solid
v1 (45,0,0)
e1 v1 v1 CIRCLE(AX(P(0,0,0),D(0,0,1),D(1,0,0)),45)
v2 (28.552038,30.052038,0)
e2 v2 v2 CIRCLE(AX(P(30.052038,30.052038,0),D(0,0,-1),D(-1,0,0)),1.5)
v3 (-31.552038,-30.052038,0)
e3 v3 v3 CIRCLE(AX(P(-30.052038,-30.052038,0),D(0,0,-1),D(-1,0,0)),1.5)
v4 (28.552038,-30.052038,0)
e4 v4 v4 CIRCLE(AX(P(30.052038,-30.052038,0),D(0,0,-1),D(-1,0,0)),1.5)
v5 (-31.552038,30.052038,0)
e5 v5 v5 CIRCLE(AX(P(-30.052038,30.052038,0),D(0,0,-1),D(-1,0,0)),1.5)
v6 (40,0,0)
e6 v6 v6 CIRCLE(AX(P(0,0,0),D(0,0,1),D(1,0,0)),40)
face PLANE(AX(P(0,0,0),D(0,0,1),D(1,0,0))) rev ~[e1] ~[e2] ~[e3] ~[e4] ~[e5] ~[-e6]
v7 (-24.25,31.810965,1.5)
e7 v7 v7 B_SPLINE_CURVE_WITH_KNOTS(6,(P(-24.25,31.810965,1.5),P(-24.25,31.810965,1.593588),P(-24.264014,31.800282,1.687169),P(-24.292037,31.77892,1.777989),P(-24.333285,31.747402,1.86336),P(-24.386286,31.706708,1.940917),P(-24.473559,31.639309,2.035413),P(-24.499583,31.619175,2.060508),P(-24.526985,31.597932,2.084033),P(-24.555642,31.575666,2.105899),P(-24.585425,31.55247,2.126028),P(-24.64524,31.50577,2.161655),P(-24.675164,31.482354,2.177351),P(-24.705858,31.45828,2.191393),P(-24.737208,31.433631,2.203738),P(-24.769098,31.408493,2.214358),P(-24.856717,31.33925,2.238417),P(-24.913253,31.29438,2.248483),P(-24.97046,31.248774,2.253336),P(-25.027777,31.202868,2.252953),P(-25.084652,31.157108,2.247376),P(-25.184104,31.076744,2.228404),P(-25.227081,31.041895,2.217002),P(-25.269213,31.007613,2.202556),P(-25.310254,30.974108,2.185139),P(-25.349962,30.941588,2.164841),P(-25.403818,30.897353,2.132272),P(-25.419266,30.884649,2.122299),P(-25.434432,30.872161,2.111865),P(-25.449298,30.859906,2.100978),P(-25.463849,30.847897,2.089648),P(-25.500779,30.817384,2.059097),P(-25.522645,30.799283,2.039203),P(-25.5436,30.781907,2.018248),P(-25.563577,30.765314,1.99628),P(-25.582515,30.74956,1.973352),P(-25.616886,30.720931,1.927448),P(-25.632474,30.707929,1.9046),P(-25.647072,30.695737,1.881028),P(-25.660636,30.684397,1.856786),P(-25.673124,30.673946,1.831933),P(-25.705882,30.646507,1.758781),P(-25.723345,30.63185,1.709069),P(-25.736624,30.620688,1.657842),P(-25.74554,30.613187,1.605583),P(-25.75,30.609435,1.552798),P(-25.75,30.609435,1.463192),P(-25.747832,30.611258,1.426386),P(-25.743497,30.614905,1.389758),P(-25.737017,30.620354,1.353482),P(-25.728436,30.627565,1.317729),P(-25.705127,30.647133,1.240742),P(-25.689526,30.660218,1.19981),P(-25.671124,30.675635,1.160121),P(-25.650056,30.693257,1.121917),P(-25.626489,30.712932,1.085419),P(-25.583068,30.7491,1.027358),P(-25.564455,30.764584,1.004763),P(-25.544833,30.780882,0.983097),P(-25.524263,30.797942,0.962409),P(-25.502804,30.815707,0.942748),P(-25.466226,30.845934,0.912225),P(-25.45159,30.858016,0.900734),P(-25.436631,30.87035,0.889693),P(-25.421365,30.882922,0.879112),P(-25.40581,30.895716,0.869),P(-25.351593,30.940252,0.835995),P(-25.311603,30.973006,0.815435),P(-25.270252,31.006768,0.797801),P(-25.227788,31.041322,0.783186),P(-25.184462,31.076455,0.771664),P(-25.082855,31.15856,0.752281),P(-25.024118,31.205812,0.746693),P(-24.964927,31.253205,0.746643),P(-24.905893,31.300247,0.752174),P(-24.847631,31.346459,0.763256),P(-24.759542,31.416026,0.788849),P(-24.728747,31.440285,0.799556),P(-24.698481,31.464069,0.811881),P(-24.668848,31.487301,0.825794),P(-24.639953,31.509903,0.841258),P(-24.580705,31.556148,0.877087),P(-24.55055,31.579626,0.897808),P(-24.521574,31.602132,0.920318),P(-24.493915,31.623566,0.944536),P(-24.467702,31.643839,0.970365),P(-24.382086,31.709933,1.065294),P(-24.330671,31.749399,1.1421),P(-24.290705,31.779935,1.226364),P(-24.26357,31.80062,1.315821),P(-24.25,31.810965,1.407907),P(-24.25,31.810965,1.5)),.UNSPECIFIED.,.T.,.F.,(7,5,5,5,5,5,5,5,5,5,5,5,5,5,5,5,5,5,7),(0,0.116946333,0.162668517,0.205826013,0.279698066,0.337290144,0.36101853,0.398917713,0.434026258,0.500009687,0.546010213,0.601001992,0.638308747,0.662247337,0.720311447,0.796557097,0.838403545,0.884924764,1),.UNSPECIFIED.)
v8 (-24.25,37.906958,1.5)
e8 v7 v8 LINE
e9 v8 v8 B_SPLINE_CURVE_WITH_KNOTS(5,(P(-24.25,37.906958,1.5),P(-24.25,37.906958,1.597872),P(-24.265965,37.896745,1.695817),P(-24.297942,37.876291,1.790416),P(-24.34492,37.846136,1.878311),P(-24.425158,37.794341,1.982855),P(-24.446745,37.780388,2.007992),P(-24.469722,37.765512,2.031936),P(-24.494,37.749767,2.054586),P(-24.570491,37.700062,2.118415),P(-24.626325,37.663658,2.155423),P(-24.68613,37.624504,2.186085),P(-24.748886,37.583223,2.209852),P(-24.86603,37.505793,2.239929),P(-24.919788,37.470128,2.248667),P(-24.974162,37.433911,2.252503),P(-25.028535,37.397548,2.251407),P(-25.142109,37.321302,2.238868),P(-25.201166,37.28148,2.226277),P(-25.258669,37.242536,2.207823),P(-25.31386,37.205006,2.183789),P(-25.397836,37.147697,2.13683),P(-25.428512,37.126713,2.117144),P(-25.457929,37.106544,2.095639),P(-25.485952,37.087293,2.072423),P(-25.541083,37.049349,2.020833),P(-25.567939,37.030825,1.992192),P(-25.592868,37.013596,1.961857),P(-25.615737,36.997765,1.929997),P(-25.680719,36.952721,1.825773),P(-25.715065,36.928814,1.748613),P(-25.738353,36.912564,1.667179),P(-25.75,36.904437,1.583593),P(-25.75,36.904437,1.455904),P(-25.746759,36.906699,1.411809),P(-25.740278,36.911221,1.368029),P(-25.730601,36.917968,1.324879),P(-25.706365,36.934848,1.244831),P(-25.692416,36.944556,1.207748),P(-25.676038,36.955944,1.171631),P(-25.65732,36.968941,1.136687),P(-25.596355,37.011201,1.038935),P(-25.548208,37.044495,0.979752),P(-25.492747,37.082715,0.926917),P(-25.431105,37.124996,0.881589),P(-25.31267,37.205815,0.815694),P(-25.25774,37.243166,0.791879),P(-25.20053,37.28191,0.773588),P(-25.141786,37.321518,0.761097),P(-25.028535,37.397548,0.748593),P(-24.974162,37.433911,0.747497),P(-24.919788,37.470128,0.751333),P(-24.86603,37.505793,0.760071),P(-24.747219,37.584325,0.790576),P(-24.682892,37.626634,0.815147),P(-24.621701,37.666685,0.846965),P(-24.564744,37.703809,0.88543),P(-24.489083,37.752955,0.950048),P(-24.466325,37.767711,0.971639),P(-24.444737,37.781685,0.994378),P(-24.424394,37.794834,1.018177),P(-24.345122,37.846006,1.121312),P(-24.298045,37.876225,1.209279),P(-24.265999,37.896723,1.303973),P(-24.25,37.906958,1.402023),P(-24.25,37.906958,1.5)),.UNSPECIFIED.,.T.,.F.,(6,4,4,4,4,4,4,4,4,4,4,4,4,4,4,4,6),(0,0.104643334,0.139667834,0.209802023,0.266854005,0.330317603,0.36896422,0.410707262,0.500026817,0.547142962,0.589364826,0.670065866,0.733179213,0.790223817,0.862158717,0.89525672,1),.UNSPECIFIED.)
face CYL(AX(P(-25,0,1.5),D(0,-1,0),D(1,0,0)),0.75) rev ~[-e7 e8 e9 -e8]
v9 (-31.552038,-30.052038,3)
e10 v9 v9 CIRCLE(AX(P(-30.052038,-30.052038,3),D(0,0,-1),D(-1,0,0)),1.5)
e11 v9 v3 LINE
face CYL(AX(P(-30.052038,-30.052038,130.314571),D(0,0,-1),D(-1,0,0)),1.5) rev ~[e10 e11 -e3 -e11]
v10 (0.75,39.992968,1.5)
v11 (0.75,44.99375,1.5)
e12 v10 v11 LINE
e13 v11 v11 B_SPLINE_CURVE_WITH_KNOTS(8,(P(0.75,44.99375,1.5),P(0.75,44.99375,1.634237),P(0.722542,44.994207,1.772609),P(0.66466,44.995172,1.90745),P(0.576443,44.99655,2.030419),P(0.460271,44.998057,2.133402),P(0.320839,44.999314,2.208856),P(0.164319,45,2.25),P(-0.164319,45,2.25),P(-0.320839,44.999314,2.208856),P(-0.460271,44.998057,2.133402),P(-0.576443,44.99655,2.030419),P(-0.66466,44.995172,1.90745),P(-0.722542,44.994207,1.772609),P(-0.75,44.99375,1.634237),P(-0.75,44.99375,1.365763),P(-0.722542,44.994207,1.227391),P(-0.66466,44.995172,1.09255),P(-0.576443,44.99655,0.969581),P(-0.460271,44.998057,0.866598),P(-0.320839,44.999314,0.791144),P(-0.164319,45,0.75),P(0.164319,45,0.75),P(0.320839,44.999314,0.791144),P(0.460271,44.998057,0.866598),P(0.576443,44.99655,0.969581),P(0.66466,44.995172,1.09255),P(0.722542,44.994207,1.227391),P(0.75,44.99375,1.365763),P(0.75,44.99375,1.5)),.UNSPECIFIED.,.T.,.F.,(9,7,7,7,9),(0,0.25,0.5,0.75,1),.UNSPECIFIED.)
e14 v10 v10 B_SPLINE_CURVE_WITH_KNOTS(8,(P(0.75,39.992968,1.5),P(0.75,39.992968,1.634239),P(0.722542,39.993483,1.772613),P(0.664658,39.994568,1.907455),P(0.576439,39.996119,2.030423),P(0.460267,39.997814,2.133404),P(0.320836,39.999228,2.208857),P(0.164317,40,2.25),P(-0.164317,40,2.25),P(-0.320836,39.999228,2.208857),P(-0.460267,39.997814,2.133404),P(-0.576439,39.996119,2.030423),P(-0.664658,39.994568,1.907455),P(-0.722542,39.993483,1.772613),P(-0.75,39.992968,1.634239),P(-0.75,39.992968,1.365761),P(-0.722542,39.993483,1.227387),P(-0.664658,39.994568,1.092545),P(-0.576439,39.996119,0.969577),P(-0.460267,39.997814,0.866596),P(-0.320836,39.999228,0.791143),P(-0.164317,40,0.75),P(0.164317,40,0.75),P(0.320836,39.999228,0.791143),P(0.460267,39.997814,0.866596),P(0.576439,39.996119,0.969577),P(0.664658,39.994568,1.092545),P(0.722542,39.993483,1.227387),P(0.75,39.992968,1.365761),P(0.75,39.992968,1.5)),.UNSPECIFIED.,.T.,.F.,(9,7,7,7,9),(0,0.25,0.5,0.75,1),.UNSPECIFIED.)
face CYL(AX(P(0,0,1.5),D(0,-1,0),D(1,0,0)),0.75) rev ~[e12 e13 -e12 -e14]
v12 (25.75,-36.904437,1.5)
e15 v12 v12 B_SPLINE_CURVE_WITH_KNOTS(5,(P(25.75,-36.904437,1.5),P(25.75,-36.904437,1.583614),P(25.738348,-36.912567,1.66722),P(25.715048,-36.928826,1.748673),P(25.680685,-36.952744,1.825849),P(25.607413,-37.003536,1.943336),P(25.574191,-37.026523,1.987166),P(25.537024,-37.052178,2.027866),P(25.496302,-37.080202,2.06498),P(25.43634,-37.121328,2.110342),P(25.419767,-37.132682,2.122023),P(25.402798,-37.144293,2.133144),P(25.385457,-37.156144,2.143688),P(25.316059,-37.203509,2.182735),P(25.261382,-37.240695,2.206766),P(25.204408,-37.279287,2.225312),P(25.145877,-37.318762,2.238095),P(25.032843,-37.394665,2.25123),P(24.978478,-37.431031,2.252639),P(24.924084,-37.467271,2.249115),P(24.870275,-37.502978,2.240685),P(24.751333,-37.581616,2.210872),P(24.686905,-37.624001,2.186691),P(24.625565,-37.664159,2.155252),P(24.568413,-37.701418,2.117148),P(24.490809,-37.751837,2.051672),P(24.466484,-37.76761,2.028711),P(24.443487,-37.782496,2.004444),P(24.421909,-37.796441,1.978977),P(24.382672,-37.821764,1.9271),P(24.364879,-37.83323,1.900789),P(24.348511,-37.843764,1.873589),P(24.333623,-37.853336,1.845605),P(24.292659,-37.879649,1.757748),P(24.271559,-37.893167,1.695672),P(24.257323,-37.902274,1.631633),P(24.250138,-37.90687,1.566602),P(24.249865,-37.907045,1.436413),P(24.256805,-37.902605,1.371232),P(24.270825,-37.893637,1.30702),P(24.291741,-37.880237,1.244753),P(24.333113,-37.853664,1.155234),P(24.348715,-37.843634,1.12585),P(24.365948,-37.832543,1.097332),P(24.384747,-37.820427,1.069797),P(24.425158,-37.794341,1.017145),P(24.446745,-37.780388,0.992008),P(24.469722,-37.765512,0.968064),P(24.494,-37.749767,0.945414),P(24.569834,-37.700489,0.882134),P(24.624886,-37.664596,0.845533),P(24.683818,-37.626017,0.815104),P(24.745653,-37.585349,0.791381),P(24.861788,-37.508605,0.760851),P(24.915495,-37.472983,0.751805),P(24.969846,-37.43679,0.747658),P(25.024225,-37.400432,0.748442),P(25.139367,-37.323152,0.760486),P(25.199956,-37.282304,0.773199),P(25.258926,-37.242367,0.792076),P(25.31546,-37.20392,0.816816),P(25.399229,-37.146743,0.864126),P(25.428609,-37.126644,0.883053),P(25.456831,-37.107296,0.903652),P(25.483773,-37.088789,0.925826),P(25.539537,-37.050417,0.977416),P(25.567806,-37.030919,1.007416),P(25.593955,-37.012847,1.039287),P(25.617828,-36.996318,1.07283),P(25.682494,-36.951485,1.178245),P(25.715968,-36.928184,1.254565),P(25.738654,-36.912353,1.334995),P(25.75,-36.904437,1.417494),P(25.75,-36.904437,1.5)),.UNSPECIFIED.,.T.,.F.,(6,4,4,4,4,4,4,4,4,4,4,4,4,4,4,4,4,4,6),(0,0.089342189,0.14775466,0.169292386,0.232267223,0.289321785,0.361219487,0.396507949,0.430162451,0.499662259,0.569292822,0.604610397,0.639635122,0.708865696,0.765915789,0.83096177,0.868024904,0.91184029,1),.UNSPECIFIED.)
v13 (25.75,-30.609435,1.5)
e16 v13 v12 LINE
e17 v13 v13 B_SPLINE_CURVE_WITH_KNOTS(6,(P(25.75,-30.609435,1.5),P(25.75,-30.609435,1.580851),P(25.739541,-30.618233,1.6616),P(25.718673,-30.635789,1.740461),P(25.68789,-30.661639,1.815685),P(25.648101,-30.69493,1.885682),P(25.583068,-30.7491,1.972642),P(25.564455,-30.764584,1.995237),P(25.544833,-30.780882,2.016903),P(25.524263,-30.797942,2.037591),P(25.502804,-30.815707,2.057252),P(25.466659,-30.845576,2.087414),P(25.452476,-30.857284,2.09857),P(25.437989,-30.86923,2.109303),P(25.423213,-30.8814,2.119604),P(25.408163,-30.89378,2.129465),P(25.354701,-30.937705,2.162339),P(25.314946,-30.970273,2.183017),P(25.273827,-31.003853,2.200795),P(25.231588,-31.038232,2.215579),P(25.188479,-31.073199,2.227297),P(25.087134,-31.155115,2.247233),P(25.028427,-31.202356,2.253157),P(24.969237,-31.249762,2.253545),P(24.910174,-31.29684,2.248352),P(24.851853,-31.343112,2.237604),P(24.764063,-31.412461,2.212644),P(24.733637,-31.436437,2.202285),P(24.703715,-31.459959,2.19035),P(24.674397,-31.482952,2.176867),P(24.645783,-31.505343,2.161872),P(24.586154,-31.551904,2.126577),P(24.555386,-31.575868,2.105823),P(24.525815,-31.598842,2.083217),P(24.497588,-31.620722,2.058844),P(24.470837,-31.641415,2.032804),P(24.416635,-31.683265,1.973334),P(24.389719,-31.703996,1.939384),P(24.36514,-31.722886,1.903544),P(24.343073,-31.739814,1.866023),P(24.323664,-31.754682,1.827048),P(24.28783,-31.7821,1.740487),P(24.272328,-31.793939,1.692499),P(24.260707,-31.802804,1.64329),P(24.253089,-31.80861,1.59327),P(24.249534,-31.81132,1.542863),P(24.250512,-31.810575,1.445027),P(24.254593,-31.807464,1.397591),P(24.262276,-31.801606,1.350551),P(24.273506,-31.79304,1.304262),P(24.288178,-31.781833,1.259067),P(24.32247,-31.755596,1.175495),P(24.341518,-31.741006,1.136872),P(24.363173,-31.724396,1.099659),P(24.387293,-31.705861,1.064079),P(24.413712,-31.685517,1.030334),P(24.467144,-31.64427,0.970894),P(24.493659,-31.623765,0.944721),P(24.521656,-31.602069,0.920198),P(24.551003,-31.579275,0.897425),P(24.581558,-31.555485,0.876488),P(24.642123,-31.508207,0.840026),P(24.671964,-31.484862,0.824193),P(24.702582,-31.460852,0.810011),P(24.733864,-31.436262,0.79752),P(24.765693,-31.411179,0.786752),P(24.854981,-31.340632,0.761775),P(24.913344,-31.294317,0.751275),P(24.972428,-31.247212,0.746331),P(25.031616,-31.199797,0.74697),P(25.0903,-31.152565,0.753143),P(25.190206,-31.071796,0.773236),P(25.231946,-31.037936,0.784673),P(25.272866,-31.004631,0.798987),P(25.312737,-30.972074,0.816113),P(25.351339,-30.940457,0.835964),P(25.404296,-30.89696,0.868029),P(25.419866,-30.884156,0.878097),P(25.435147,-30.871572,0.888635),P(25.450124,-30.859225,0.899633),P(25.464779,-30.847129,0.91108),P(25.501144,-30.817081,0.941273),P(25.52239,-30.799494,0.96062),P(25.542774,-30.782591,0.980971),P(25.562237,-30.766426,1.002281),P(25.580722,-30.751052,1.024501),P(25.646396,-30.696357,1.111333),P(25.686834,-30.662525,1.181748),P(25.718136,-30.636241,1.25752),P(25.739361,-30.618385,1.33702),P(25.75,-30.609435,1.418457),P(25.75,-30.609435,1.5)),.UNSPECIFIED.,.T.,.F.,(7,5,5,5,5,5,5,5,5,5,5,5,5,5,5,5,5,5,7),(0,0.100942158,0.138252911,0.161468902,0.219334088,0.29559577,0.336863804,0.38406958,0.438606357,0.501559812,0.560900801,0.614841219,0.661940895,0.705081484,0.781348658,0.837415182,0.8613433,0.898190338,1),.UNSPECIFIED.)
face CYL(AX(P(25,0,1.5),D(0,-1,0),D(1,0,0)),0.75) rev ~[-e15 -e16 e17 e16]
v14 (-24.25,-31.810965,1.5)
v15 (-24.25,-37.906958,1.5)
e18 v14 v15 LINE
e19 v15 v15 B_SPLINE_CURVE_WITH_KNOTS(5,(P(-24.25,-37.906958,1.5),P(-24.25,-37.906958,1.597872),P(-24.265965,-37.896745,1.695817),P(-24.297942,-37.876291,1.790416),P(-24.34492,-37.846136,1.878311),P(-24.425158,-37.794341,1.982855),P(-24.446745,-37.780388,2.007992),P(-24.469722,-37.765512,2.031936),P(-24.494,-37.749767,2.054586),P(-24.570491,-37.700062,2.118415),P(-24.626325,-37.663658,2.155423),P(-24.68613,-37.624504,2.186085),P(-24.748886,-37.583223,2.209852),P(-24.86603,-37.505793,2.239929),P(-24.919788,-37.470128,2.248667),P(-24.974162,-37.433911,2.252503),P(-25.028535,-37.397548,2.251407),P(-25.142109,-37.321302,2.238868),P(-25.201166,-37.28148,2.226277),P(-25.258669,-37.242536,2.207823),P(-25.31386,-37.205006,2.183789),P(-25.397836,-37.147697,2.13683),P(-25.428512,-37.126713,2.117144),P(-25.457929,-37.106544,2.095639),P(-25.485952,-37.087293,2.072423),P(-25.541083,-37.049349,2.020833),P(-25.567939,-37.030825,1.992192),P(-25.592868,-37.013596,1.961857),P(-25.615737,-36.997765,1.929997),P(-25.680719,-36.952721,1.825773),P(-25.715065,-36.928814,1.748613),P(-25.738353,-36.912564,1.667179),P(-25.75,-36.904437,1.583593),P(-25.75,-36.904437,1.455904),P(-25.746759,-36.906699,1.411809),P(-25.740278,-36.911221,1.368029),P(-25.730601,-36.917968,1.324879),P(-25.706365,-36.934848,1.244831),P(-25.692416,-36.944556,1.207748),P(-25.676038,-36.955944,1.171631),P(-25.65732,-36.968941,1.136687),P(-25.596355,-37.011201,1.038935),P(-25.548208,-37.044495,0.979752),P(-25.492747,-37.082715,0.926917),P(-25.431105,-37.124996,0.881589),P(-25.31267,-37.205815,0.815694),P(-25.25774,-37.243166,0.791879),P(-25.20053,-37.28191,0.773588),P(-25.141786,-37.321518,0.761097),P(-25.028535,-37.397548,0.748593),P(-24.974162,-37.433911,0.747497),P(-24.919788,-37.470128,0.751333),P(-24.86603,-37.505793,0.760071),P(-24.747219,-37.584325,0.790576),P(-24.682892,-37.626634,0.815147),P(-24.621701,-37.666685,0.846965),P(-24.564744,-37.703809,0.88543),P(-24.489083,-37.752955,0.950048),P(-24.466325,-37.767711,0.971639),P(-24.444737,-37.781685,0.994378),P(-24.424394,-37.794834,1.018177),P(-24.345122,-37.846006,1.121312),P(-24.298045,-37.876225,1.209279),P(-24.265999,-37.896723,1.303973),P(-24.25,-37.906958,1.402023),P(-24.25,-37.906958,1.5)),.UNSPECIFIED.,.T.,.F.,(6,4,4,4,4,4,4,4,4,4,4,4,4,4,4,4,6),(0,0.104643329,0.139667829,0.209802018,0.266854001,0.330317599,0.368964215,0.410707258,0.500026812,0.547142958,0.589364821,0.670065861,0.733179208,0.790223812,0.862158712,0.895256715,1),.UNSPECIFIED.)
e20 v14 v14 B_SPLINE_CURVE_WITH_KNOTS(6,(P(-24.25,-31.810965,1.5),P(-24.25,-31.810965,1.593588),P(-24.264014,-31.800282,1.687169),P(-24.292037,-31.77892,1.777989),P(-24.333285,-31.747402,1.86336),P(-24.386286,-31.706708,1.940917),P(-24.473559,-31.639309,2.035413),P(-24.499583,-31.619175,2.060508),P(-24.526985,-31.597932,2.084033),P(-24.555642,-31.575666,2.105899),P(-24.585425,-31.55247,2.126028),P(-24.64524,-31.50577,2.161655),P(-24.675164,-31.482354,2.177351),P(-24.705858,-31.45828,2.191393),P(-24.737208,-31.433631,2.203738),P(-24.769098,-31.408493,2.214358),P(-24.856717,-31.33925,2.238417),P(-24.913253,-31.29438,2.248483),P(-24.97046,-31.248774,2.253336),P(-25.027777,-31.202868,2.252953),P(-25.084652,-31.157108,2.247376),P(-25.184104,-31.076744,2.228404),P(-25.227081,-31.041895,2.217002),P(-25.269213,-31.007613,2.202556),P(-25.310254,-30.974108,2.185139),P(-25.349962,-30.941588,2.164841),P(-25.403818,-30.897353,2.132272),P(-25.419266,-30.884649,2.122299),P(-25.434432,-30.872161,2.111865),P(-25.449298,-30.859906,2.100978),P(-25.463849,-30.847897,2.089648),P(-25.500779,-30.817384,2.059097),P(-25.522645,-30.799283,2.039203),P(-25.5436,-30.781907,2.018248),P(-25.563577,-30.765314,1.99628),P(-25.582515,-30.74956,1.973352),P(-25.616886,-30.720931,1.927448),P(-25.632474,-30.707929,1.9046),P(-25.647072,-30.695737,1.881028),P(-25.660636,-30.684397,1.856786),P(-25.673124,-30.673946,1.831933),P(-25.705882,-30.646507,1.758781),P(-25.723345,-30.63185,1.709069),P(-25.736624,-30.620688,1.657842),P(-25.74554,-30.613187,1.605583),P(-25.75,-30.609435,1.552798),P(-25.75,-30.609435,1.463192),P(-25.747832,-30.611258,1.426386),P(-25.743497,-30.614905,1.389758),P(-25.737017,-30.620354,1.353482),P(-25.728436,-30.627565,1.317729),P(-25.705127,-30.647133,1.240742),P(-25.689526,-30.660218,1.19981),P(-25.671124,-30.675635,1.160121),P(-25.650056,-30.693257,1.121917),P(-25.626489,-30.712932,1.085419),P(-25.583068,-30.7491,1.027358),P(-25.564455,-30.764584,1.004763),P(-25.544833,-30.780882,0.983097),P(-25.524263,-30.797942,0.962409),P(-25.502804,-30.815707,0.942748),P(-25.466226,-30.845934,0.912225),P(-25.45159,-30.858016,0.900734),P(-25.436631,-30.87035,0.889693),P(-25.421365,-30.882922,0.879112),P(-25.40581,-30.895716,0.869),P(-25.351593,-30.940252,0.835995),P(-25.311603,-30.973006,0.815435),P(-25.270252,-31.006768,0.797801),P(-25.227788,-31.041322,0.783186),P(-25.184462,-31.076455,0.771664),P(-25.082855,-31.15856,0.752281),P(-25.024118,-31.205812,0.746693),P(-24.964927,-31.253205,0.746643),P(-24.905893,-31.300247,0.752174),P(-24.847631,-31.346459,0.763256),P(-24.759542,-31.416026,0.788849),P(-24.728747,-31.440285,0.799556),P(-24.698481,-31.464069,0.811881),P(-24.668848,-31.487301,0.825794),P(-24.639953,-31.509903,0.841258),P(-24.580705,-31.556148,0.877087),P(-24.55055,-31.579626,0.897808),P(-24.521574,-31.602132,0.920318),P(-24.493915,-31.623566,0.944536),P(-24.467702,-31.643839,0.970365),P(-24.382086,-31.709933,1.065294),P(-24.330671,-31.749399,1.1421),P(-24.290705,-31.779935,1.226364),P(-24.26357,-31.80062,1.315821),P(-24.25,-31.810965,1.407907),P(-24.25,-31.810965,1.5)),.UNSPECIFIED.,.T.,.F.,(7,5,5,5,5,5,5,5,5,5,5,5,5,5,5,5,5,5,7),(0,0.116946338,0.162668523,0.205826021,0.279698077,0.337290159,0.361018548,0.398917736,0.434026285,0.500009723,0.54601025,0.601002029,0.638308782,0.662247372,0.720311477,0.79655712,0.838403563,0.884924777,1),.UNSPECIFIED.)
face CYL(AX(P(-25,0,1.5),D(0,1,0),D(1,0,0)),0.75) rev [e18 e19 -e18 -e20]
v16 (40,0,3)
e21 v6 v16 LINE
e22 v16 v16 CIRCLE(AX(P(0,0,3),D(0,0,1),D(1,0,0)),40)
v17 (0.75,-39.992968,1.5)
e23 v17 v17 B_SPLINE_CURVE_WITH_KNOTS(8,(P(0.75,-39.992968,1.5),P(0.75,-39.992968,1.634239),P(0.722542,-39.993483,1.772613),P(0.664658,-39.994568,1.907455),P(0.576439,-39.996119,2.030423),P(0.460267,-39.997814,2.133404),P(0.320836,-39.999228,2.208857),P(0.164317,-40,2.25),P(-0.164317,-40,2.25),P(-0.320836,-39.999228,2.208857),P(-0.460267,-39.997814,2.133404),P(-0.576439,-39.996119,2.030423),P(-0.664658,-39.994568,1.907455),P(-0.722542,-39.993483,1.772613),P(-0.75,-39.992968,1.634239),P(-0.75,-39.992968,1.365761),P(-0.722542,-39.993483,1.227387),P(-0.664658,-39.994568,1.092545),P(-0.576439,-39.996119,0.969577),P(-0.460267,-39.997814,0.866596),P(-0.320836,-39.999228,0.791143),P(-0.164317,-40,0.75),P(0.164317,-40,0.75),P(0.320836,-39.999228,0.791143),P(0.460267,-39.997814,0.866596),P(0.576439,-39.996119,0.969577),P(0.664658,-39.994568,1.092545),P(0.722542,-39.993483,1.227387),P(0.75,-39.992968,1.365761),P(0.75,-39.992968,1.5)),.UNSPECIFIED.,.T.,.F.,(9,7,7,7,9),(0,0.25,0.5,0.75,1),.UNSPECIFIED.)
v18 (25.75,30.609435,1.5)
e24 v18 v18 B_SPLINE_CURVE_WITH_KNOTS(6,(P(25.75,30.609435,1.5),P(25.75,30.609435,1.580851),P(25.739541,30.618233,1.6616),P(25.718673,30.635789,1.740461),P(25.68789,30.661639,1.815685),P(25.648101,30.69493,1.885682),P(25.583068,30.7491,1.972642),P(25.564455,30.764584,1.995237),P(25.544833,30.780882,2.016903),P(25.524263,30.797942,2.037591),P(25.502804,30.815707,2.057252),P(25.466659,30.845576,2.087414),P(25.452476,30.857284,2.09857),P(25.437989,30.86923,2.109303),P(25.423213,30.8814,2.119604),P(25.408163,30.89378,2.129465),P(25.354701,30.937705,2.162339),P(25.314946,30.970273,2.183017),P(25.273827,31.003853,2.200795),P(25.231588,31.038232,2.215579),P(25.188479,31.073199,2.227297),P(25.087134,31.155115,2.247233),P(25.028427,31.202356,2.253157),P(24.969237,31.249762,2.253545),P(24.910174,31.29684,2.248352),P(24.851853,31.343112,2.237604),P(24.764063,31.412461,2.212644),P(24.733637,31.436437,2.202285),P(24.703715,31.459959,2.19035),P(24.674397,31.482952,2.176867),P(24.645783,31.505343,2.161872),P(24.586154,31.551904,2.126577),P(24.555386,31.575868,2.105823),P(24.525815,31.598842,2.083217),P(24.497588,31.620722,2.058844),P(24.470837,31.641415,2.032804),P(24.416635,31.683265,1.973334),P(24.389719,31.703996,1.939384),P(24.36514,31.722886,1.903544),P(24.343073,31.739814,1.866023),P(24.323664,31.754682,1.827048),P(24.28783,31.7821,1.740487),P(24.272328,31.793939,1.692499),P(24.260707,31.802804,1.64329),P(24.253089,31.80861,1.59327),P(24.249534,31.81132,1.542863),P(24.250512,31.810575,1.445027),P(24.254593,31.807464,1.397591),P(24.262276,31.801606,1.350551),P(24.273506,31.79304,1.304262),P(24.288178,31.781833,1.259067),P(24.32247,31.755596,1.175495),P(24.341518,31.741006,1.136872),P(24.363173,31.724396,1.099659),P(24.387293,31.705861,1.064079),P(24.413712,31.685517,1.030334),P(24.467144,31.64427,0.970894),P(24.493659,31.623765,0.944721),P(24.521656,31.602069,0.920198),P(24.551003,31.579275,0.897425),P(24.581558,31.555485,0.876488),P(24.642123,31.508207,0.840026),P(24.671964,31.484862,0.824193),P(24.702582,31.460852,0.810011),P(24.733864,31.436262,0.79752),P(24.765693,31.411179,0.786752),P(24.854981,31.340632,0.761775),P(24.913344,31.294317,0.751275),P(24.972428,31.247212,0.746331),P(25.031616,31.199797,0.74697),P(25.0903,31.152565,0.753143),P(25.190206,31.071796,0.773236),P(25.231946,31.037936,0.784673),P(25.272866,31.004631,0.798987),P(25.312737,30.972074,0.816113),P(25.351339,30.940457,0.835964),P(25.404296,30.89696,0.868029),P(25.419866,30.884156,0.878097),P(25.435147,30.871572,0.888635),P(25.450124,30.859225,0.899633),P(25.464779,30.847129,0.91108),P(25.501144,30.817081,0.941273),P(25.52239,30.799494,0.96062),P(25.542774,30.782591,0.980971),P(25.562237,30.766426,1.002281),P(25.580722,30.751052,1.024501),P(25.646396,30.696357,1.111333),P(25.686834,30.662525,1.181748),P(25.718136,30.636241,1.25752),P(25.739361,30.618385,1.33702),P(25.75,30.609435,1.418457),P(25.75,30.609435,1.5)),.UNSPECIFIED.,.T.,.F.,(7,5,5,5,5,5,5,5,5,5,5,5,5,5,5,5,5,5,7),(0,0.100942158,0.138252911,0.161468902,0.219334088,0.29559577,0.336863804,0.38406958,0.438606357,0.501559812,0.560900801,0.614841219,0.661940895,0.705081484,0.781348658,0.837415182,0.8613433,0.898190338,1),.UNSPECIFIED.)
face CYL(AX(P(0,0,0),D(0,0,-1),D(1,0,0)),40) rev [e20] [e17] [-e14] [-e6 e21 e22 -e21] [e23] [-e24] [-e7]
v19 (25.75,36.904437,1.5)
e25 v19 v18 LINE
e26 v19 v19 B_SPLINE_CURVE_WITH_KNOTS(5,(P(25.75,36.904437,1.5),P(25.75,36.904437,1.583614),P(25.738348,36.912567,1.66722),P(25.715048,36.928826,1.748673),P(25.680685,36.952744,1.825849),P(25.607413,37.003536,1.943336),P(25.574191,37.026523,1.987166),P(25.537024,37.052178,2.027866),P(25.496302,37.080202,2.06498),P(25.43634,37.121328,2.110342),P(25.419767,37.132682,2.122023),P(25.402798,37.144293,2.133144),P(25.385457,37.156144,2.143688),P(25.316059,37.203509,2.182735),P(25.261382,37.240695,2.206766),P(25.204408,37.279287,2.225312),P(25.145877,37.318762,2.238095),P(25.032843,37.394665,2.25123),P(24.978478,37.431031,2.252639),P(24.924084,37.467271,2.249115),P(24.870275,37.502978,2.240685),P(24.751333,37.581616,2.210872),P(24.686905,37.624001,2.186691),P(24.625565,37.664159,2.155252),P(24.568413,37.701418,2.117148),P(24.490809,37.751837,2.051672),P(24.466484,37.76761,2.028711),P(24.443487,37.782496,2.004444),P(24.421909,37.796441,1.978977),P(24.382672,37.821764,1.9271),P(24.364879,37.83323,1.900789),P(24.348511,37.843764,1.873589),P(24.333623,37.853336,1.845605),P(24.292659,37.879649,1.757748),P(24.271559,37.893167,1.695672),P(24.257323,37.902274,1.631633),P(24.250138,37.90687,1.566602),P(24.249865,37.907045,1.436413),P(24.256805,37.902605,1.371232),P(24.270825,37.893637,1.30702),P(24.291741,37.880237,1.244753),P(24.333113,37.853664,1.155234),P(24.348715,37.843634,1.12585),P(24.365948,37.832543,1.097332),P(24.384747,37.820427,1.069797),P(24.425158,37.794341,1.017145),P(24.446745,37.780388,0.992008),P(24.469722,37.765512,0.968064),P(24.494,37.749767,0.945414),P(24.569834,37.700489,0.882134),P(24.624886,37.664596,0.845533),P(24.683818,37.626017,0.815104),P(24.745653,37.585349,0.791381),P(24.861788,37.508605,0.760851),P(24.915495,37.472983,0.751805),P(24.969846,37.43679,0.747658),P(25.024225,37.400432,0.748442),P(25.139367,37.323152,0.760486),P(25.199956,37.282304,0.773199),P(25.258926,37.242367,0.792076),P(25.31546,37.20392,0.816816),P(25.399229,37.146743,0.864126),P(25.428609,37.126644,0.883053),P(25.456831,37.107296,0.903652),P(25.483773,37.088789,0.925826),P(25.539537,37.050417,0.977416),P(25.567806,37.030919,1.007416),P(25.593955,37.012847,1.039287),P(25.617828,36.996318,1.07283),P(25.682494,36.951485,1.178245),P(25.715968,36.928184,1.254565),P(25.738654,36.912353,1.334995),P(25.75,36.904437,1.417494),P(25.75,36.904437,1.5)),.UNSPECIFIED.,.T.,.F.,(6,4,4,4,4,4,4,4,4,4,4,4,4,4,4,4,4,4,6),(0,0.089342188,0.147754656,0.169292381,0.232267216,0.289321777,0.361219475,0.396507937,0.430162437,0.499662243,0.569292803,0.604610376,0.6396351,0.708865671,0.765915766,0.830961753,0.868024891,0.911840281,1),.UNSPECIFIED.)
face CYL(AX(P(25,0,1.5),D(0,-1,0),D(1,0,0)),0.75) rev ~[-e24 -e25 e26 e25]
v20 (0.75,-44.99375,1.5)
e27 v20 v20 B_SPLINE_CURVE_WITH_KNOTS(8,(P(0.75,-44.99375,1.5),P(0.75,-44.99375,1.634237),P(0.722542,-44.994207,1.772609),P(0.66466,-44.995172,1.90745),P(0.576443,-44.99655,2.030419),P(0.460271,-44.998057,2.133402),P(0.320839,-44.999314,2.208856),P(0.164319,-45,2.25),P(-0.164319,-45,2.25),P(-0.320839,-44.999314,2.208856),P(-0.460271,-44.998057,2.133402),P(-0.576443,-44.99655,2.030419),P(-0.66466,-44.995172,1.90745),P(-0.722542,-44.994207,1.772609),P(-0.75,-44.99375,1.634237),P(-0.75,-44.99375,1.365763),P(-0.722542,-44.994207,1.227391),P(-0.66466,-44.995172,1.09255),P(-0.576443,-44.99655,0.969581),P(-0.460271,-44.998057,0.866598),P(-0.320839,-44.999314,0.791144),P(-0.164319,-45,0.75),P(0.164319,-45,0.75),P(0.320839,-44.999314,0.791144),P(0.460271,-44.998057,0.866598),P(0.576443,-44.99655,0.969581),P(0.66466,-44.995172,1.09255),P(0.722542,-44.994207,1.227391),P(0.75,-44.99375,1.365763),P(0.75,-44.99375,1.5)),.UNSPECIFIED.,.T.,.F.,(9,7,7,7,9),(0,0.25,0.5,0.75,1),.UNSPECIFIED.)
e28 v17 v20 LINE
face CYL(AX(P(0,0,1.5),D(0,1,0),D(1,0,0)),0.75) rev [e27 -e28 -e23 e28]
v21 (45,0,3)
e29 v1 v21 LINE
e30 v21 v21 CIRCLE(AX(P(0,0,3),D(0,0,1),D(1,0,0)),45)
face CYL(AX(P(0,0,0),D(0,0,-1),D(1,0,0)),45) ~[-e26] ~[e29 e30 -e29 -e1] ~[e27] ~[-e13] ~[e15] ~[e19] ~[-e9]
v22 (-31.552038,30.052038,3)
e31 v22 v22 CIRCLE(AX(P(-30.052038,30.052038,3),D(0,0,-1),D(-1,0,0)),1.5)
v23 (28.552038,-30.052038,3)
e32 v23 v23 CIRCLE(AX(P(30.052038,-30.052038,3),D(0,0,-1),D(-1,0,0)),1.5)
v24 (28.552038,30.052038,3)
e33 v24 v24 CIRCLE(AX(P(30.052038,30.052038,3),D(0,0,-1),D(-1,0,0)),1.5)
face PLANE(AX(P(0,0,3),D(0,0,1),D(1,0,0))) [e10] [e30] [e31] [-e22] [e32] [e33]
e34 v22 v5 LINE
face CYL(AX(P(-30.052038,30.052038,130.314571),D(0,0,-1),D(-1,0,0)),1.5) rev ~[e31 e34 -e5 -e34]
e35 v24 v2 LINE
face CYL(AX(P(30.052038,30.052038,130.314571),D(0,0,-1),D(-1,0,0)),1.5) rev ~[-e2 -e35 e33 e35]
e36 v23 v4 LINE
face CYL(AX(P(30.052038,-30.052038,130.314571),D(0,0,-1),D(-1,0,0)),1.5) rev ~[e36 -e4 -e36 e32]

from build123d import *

# Parameters (mm, degrees)
F0_R     = 45
F0_R_2   = 40
F2_DEPTH = 3
F5_D     = 3
F6_R     = 0.75
F7_DEPTH = 50


with BuildPart() as f2:
    # F0 (on Top) → F2 (new body)
    with BuildSketch(Plane.XY):
        Circle(F0_R)
        Circle(F0_R_2, mode=Mode.SUBTRACT)
    extrude(amount=F2_DEPTH)

    # F5 (through all)
    with Locations(Plane.XY.offset(3)):
        with Locations((-30.052038, 30.052038), (-30.052038, -30.052038), (30.052038, -30.052038), (30.052038, 30.052038)):
            Hole(F5_D / 2)

    # F6 (on Front) → F7 (cut, symmetric)
    with BuildSketch(Plane.XZ):
        with Locations((-25, 1.5)):
            Circle(F6_R)
        with Locations((0, 1.5)):
            Circle(F6_R)
        with Locations((25, 1.5)):
            Circle(F6_R)
    extrude(amount=F7_DEPTH, both=True, mode=Mode.SUBTRACT)


solid = f2.part
